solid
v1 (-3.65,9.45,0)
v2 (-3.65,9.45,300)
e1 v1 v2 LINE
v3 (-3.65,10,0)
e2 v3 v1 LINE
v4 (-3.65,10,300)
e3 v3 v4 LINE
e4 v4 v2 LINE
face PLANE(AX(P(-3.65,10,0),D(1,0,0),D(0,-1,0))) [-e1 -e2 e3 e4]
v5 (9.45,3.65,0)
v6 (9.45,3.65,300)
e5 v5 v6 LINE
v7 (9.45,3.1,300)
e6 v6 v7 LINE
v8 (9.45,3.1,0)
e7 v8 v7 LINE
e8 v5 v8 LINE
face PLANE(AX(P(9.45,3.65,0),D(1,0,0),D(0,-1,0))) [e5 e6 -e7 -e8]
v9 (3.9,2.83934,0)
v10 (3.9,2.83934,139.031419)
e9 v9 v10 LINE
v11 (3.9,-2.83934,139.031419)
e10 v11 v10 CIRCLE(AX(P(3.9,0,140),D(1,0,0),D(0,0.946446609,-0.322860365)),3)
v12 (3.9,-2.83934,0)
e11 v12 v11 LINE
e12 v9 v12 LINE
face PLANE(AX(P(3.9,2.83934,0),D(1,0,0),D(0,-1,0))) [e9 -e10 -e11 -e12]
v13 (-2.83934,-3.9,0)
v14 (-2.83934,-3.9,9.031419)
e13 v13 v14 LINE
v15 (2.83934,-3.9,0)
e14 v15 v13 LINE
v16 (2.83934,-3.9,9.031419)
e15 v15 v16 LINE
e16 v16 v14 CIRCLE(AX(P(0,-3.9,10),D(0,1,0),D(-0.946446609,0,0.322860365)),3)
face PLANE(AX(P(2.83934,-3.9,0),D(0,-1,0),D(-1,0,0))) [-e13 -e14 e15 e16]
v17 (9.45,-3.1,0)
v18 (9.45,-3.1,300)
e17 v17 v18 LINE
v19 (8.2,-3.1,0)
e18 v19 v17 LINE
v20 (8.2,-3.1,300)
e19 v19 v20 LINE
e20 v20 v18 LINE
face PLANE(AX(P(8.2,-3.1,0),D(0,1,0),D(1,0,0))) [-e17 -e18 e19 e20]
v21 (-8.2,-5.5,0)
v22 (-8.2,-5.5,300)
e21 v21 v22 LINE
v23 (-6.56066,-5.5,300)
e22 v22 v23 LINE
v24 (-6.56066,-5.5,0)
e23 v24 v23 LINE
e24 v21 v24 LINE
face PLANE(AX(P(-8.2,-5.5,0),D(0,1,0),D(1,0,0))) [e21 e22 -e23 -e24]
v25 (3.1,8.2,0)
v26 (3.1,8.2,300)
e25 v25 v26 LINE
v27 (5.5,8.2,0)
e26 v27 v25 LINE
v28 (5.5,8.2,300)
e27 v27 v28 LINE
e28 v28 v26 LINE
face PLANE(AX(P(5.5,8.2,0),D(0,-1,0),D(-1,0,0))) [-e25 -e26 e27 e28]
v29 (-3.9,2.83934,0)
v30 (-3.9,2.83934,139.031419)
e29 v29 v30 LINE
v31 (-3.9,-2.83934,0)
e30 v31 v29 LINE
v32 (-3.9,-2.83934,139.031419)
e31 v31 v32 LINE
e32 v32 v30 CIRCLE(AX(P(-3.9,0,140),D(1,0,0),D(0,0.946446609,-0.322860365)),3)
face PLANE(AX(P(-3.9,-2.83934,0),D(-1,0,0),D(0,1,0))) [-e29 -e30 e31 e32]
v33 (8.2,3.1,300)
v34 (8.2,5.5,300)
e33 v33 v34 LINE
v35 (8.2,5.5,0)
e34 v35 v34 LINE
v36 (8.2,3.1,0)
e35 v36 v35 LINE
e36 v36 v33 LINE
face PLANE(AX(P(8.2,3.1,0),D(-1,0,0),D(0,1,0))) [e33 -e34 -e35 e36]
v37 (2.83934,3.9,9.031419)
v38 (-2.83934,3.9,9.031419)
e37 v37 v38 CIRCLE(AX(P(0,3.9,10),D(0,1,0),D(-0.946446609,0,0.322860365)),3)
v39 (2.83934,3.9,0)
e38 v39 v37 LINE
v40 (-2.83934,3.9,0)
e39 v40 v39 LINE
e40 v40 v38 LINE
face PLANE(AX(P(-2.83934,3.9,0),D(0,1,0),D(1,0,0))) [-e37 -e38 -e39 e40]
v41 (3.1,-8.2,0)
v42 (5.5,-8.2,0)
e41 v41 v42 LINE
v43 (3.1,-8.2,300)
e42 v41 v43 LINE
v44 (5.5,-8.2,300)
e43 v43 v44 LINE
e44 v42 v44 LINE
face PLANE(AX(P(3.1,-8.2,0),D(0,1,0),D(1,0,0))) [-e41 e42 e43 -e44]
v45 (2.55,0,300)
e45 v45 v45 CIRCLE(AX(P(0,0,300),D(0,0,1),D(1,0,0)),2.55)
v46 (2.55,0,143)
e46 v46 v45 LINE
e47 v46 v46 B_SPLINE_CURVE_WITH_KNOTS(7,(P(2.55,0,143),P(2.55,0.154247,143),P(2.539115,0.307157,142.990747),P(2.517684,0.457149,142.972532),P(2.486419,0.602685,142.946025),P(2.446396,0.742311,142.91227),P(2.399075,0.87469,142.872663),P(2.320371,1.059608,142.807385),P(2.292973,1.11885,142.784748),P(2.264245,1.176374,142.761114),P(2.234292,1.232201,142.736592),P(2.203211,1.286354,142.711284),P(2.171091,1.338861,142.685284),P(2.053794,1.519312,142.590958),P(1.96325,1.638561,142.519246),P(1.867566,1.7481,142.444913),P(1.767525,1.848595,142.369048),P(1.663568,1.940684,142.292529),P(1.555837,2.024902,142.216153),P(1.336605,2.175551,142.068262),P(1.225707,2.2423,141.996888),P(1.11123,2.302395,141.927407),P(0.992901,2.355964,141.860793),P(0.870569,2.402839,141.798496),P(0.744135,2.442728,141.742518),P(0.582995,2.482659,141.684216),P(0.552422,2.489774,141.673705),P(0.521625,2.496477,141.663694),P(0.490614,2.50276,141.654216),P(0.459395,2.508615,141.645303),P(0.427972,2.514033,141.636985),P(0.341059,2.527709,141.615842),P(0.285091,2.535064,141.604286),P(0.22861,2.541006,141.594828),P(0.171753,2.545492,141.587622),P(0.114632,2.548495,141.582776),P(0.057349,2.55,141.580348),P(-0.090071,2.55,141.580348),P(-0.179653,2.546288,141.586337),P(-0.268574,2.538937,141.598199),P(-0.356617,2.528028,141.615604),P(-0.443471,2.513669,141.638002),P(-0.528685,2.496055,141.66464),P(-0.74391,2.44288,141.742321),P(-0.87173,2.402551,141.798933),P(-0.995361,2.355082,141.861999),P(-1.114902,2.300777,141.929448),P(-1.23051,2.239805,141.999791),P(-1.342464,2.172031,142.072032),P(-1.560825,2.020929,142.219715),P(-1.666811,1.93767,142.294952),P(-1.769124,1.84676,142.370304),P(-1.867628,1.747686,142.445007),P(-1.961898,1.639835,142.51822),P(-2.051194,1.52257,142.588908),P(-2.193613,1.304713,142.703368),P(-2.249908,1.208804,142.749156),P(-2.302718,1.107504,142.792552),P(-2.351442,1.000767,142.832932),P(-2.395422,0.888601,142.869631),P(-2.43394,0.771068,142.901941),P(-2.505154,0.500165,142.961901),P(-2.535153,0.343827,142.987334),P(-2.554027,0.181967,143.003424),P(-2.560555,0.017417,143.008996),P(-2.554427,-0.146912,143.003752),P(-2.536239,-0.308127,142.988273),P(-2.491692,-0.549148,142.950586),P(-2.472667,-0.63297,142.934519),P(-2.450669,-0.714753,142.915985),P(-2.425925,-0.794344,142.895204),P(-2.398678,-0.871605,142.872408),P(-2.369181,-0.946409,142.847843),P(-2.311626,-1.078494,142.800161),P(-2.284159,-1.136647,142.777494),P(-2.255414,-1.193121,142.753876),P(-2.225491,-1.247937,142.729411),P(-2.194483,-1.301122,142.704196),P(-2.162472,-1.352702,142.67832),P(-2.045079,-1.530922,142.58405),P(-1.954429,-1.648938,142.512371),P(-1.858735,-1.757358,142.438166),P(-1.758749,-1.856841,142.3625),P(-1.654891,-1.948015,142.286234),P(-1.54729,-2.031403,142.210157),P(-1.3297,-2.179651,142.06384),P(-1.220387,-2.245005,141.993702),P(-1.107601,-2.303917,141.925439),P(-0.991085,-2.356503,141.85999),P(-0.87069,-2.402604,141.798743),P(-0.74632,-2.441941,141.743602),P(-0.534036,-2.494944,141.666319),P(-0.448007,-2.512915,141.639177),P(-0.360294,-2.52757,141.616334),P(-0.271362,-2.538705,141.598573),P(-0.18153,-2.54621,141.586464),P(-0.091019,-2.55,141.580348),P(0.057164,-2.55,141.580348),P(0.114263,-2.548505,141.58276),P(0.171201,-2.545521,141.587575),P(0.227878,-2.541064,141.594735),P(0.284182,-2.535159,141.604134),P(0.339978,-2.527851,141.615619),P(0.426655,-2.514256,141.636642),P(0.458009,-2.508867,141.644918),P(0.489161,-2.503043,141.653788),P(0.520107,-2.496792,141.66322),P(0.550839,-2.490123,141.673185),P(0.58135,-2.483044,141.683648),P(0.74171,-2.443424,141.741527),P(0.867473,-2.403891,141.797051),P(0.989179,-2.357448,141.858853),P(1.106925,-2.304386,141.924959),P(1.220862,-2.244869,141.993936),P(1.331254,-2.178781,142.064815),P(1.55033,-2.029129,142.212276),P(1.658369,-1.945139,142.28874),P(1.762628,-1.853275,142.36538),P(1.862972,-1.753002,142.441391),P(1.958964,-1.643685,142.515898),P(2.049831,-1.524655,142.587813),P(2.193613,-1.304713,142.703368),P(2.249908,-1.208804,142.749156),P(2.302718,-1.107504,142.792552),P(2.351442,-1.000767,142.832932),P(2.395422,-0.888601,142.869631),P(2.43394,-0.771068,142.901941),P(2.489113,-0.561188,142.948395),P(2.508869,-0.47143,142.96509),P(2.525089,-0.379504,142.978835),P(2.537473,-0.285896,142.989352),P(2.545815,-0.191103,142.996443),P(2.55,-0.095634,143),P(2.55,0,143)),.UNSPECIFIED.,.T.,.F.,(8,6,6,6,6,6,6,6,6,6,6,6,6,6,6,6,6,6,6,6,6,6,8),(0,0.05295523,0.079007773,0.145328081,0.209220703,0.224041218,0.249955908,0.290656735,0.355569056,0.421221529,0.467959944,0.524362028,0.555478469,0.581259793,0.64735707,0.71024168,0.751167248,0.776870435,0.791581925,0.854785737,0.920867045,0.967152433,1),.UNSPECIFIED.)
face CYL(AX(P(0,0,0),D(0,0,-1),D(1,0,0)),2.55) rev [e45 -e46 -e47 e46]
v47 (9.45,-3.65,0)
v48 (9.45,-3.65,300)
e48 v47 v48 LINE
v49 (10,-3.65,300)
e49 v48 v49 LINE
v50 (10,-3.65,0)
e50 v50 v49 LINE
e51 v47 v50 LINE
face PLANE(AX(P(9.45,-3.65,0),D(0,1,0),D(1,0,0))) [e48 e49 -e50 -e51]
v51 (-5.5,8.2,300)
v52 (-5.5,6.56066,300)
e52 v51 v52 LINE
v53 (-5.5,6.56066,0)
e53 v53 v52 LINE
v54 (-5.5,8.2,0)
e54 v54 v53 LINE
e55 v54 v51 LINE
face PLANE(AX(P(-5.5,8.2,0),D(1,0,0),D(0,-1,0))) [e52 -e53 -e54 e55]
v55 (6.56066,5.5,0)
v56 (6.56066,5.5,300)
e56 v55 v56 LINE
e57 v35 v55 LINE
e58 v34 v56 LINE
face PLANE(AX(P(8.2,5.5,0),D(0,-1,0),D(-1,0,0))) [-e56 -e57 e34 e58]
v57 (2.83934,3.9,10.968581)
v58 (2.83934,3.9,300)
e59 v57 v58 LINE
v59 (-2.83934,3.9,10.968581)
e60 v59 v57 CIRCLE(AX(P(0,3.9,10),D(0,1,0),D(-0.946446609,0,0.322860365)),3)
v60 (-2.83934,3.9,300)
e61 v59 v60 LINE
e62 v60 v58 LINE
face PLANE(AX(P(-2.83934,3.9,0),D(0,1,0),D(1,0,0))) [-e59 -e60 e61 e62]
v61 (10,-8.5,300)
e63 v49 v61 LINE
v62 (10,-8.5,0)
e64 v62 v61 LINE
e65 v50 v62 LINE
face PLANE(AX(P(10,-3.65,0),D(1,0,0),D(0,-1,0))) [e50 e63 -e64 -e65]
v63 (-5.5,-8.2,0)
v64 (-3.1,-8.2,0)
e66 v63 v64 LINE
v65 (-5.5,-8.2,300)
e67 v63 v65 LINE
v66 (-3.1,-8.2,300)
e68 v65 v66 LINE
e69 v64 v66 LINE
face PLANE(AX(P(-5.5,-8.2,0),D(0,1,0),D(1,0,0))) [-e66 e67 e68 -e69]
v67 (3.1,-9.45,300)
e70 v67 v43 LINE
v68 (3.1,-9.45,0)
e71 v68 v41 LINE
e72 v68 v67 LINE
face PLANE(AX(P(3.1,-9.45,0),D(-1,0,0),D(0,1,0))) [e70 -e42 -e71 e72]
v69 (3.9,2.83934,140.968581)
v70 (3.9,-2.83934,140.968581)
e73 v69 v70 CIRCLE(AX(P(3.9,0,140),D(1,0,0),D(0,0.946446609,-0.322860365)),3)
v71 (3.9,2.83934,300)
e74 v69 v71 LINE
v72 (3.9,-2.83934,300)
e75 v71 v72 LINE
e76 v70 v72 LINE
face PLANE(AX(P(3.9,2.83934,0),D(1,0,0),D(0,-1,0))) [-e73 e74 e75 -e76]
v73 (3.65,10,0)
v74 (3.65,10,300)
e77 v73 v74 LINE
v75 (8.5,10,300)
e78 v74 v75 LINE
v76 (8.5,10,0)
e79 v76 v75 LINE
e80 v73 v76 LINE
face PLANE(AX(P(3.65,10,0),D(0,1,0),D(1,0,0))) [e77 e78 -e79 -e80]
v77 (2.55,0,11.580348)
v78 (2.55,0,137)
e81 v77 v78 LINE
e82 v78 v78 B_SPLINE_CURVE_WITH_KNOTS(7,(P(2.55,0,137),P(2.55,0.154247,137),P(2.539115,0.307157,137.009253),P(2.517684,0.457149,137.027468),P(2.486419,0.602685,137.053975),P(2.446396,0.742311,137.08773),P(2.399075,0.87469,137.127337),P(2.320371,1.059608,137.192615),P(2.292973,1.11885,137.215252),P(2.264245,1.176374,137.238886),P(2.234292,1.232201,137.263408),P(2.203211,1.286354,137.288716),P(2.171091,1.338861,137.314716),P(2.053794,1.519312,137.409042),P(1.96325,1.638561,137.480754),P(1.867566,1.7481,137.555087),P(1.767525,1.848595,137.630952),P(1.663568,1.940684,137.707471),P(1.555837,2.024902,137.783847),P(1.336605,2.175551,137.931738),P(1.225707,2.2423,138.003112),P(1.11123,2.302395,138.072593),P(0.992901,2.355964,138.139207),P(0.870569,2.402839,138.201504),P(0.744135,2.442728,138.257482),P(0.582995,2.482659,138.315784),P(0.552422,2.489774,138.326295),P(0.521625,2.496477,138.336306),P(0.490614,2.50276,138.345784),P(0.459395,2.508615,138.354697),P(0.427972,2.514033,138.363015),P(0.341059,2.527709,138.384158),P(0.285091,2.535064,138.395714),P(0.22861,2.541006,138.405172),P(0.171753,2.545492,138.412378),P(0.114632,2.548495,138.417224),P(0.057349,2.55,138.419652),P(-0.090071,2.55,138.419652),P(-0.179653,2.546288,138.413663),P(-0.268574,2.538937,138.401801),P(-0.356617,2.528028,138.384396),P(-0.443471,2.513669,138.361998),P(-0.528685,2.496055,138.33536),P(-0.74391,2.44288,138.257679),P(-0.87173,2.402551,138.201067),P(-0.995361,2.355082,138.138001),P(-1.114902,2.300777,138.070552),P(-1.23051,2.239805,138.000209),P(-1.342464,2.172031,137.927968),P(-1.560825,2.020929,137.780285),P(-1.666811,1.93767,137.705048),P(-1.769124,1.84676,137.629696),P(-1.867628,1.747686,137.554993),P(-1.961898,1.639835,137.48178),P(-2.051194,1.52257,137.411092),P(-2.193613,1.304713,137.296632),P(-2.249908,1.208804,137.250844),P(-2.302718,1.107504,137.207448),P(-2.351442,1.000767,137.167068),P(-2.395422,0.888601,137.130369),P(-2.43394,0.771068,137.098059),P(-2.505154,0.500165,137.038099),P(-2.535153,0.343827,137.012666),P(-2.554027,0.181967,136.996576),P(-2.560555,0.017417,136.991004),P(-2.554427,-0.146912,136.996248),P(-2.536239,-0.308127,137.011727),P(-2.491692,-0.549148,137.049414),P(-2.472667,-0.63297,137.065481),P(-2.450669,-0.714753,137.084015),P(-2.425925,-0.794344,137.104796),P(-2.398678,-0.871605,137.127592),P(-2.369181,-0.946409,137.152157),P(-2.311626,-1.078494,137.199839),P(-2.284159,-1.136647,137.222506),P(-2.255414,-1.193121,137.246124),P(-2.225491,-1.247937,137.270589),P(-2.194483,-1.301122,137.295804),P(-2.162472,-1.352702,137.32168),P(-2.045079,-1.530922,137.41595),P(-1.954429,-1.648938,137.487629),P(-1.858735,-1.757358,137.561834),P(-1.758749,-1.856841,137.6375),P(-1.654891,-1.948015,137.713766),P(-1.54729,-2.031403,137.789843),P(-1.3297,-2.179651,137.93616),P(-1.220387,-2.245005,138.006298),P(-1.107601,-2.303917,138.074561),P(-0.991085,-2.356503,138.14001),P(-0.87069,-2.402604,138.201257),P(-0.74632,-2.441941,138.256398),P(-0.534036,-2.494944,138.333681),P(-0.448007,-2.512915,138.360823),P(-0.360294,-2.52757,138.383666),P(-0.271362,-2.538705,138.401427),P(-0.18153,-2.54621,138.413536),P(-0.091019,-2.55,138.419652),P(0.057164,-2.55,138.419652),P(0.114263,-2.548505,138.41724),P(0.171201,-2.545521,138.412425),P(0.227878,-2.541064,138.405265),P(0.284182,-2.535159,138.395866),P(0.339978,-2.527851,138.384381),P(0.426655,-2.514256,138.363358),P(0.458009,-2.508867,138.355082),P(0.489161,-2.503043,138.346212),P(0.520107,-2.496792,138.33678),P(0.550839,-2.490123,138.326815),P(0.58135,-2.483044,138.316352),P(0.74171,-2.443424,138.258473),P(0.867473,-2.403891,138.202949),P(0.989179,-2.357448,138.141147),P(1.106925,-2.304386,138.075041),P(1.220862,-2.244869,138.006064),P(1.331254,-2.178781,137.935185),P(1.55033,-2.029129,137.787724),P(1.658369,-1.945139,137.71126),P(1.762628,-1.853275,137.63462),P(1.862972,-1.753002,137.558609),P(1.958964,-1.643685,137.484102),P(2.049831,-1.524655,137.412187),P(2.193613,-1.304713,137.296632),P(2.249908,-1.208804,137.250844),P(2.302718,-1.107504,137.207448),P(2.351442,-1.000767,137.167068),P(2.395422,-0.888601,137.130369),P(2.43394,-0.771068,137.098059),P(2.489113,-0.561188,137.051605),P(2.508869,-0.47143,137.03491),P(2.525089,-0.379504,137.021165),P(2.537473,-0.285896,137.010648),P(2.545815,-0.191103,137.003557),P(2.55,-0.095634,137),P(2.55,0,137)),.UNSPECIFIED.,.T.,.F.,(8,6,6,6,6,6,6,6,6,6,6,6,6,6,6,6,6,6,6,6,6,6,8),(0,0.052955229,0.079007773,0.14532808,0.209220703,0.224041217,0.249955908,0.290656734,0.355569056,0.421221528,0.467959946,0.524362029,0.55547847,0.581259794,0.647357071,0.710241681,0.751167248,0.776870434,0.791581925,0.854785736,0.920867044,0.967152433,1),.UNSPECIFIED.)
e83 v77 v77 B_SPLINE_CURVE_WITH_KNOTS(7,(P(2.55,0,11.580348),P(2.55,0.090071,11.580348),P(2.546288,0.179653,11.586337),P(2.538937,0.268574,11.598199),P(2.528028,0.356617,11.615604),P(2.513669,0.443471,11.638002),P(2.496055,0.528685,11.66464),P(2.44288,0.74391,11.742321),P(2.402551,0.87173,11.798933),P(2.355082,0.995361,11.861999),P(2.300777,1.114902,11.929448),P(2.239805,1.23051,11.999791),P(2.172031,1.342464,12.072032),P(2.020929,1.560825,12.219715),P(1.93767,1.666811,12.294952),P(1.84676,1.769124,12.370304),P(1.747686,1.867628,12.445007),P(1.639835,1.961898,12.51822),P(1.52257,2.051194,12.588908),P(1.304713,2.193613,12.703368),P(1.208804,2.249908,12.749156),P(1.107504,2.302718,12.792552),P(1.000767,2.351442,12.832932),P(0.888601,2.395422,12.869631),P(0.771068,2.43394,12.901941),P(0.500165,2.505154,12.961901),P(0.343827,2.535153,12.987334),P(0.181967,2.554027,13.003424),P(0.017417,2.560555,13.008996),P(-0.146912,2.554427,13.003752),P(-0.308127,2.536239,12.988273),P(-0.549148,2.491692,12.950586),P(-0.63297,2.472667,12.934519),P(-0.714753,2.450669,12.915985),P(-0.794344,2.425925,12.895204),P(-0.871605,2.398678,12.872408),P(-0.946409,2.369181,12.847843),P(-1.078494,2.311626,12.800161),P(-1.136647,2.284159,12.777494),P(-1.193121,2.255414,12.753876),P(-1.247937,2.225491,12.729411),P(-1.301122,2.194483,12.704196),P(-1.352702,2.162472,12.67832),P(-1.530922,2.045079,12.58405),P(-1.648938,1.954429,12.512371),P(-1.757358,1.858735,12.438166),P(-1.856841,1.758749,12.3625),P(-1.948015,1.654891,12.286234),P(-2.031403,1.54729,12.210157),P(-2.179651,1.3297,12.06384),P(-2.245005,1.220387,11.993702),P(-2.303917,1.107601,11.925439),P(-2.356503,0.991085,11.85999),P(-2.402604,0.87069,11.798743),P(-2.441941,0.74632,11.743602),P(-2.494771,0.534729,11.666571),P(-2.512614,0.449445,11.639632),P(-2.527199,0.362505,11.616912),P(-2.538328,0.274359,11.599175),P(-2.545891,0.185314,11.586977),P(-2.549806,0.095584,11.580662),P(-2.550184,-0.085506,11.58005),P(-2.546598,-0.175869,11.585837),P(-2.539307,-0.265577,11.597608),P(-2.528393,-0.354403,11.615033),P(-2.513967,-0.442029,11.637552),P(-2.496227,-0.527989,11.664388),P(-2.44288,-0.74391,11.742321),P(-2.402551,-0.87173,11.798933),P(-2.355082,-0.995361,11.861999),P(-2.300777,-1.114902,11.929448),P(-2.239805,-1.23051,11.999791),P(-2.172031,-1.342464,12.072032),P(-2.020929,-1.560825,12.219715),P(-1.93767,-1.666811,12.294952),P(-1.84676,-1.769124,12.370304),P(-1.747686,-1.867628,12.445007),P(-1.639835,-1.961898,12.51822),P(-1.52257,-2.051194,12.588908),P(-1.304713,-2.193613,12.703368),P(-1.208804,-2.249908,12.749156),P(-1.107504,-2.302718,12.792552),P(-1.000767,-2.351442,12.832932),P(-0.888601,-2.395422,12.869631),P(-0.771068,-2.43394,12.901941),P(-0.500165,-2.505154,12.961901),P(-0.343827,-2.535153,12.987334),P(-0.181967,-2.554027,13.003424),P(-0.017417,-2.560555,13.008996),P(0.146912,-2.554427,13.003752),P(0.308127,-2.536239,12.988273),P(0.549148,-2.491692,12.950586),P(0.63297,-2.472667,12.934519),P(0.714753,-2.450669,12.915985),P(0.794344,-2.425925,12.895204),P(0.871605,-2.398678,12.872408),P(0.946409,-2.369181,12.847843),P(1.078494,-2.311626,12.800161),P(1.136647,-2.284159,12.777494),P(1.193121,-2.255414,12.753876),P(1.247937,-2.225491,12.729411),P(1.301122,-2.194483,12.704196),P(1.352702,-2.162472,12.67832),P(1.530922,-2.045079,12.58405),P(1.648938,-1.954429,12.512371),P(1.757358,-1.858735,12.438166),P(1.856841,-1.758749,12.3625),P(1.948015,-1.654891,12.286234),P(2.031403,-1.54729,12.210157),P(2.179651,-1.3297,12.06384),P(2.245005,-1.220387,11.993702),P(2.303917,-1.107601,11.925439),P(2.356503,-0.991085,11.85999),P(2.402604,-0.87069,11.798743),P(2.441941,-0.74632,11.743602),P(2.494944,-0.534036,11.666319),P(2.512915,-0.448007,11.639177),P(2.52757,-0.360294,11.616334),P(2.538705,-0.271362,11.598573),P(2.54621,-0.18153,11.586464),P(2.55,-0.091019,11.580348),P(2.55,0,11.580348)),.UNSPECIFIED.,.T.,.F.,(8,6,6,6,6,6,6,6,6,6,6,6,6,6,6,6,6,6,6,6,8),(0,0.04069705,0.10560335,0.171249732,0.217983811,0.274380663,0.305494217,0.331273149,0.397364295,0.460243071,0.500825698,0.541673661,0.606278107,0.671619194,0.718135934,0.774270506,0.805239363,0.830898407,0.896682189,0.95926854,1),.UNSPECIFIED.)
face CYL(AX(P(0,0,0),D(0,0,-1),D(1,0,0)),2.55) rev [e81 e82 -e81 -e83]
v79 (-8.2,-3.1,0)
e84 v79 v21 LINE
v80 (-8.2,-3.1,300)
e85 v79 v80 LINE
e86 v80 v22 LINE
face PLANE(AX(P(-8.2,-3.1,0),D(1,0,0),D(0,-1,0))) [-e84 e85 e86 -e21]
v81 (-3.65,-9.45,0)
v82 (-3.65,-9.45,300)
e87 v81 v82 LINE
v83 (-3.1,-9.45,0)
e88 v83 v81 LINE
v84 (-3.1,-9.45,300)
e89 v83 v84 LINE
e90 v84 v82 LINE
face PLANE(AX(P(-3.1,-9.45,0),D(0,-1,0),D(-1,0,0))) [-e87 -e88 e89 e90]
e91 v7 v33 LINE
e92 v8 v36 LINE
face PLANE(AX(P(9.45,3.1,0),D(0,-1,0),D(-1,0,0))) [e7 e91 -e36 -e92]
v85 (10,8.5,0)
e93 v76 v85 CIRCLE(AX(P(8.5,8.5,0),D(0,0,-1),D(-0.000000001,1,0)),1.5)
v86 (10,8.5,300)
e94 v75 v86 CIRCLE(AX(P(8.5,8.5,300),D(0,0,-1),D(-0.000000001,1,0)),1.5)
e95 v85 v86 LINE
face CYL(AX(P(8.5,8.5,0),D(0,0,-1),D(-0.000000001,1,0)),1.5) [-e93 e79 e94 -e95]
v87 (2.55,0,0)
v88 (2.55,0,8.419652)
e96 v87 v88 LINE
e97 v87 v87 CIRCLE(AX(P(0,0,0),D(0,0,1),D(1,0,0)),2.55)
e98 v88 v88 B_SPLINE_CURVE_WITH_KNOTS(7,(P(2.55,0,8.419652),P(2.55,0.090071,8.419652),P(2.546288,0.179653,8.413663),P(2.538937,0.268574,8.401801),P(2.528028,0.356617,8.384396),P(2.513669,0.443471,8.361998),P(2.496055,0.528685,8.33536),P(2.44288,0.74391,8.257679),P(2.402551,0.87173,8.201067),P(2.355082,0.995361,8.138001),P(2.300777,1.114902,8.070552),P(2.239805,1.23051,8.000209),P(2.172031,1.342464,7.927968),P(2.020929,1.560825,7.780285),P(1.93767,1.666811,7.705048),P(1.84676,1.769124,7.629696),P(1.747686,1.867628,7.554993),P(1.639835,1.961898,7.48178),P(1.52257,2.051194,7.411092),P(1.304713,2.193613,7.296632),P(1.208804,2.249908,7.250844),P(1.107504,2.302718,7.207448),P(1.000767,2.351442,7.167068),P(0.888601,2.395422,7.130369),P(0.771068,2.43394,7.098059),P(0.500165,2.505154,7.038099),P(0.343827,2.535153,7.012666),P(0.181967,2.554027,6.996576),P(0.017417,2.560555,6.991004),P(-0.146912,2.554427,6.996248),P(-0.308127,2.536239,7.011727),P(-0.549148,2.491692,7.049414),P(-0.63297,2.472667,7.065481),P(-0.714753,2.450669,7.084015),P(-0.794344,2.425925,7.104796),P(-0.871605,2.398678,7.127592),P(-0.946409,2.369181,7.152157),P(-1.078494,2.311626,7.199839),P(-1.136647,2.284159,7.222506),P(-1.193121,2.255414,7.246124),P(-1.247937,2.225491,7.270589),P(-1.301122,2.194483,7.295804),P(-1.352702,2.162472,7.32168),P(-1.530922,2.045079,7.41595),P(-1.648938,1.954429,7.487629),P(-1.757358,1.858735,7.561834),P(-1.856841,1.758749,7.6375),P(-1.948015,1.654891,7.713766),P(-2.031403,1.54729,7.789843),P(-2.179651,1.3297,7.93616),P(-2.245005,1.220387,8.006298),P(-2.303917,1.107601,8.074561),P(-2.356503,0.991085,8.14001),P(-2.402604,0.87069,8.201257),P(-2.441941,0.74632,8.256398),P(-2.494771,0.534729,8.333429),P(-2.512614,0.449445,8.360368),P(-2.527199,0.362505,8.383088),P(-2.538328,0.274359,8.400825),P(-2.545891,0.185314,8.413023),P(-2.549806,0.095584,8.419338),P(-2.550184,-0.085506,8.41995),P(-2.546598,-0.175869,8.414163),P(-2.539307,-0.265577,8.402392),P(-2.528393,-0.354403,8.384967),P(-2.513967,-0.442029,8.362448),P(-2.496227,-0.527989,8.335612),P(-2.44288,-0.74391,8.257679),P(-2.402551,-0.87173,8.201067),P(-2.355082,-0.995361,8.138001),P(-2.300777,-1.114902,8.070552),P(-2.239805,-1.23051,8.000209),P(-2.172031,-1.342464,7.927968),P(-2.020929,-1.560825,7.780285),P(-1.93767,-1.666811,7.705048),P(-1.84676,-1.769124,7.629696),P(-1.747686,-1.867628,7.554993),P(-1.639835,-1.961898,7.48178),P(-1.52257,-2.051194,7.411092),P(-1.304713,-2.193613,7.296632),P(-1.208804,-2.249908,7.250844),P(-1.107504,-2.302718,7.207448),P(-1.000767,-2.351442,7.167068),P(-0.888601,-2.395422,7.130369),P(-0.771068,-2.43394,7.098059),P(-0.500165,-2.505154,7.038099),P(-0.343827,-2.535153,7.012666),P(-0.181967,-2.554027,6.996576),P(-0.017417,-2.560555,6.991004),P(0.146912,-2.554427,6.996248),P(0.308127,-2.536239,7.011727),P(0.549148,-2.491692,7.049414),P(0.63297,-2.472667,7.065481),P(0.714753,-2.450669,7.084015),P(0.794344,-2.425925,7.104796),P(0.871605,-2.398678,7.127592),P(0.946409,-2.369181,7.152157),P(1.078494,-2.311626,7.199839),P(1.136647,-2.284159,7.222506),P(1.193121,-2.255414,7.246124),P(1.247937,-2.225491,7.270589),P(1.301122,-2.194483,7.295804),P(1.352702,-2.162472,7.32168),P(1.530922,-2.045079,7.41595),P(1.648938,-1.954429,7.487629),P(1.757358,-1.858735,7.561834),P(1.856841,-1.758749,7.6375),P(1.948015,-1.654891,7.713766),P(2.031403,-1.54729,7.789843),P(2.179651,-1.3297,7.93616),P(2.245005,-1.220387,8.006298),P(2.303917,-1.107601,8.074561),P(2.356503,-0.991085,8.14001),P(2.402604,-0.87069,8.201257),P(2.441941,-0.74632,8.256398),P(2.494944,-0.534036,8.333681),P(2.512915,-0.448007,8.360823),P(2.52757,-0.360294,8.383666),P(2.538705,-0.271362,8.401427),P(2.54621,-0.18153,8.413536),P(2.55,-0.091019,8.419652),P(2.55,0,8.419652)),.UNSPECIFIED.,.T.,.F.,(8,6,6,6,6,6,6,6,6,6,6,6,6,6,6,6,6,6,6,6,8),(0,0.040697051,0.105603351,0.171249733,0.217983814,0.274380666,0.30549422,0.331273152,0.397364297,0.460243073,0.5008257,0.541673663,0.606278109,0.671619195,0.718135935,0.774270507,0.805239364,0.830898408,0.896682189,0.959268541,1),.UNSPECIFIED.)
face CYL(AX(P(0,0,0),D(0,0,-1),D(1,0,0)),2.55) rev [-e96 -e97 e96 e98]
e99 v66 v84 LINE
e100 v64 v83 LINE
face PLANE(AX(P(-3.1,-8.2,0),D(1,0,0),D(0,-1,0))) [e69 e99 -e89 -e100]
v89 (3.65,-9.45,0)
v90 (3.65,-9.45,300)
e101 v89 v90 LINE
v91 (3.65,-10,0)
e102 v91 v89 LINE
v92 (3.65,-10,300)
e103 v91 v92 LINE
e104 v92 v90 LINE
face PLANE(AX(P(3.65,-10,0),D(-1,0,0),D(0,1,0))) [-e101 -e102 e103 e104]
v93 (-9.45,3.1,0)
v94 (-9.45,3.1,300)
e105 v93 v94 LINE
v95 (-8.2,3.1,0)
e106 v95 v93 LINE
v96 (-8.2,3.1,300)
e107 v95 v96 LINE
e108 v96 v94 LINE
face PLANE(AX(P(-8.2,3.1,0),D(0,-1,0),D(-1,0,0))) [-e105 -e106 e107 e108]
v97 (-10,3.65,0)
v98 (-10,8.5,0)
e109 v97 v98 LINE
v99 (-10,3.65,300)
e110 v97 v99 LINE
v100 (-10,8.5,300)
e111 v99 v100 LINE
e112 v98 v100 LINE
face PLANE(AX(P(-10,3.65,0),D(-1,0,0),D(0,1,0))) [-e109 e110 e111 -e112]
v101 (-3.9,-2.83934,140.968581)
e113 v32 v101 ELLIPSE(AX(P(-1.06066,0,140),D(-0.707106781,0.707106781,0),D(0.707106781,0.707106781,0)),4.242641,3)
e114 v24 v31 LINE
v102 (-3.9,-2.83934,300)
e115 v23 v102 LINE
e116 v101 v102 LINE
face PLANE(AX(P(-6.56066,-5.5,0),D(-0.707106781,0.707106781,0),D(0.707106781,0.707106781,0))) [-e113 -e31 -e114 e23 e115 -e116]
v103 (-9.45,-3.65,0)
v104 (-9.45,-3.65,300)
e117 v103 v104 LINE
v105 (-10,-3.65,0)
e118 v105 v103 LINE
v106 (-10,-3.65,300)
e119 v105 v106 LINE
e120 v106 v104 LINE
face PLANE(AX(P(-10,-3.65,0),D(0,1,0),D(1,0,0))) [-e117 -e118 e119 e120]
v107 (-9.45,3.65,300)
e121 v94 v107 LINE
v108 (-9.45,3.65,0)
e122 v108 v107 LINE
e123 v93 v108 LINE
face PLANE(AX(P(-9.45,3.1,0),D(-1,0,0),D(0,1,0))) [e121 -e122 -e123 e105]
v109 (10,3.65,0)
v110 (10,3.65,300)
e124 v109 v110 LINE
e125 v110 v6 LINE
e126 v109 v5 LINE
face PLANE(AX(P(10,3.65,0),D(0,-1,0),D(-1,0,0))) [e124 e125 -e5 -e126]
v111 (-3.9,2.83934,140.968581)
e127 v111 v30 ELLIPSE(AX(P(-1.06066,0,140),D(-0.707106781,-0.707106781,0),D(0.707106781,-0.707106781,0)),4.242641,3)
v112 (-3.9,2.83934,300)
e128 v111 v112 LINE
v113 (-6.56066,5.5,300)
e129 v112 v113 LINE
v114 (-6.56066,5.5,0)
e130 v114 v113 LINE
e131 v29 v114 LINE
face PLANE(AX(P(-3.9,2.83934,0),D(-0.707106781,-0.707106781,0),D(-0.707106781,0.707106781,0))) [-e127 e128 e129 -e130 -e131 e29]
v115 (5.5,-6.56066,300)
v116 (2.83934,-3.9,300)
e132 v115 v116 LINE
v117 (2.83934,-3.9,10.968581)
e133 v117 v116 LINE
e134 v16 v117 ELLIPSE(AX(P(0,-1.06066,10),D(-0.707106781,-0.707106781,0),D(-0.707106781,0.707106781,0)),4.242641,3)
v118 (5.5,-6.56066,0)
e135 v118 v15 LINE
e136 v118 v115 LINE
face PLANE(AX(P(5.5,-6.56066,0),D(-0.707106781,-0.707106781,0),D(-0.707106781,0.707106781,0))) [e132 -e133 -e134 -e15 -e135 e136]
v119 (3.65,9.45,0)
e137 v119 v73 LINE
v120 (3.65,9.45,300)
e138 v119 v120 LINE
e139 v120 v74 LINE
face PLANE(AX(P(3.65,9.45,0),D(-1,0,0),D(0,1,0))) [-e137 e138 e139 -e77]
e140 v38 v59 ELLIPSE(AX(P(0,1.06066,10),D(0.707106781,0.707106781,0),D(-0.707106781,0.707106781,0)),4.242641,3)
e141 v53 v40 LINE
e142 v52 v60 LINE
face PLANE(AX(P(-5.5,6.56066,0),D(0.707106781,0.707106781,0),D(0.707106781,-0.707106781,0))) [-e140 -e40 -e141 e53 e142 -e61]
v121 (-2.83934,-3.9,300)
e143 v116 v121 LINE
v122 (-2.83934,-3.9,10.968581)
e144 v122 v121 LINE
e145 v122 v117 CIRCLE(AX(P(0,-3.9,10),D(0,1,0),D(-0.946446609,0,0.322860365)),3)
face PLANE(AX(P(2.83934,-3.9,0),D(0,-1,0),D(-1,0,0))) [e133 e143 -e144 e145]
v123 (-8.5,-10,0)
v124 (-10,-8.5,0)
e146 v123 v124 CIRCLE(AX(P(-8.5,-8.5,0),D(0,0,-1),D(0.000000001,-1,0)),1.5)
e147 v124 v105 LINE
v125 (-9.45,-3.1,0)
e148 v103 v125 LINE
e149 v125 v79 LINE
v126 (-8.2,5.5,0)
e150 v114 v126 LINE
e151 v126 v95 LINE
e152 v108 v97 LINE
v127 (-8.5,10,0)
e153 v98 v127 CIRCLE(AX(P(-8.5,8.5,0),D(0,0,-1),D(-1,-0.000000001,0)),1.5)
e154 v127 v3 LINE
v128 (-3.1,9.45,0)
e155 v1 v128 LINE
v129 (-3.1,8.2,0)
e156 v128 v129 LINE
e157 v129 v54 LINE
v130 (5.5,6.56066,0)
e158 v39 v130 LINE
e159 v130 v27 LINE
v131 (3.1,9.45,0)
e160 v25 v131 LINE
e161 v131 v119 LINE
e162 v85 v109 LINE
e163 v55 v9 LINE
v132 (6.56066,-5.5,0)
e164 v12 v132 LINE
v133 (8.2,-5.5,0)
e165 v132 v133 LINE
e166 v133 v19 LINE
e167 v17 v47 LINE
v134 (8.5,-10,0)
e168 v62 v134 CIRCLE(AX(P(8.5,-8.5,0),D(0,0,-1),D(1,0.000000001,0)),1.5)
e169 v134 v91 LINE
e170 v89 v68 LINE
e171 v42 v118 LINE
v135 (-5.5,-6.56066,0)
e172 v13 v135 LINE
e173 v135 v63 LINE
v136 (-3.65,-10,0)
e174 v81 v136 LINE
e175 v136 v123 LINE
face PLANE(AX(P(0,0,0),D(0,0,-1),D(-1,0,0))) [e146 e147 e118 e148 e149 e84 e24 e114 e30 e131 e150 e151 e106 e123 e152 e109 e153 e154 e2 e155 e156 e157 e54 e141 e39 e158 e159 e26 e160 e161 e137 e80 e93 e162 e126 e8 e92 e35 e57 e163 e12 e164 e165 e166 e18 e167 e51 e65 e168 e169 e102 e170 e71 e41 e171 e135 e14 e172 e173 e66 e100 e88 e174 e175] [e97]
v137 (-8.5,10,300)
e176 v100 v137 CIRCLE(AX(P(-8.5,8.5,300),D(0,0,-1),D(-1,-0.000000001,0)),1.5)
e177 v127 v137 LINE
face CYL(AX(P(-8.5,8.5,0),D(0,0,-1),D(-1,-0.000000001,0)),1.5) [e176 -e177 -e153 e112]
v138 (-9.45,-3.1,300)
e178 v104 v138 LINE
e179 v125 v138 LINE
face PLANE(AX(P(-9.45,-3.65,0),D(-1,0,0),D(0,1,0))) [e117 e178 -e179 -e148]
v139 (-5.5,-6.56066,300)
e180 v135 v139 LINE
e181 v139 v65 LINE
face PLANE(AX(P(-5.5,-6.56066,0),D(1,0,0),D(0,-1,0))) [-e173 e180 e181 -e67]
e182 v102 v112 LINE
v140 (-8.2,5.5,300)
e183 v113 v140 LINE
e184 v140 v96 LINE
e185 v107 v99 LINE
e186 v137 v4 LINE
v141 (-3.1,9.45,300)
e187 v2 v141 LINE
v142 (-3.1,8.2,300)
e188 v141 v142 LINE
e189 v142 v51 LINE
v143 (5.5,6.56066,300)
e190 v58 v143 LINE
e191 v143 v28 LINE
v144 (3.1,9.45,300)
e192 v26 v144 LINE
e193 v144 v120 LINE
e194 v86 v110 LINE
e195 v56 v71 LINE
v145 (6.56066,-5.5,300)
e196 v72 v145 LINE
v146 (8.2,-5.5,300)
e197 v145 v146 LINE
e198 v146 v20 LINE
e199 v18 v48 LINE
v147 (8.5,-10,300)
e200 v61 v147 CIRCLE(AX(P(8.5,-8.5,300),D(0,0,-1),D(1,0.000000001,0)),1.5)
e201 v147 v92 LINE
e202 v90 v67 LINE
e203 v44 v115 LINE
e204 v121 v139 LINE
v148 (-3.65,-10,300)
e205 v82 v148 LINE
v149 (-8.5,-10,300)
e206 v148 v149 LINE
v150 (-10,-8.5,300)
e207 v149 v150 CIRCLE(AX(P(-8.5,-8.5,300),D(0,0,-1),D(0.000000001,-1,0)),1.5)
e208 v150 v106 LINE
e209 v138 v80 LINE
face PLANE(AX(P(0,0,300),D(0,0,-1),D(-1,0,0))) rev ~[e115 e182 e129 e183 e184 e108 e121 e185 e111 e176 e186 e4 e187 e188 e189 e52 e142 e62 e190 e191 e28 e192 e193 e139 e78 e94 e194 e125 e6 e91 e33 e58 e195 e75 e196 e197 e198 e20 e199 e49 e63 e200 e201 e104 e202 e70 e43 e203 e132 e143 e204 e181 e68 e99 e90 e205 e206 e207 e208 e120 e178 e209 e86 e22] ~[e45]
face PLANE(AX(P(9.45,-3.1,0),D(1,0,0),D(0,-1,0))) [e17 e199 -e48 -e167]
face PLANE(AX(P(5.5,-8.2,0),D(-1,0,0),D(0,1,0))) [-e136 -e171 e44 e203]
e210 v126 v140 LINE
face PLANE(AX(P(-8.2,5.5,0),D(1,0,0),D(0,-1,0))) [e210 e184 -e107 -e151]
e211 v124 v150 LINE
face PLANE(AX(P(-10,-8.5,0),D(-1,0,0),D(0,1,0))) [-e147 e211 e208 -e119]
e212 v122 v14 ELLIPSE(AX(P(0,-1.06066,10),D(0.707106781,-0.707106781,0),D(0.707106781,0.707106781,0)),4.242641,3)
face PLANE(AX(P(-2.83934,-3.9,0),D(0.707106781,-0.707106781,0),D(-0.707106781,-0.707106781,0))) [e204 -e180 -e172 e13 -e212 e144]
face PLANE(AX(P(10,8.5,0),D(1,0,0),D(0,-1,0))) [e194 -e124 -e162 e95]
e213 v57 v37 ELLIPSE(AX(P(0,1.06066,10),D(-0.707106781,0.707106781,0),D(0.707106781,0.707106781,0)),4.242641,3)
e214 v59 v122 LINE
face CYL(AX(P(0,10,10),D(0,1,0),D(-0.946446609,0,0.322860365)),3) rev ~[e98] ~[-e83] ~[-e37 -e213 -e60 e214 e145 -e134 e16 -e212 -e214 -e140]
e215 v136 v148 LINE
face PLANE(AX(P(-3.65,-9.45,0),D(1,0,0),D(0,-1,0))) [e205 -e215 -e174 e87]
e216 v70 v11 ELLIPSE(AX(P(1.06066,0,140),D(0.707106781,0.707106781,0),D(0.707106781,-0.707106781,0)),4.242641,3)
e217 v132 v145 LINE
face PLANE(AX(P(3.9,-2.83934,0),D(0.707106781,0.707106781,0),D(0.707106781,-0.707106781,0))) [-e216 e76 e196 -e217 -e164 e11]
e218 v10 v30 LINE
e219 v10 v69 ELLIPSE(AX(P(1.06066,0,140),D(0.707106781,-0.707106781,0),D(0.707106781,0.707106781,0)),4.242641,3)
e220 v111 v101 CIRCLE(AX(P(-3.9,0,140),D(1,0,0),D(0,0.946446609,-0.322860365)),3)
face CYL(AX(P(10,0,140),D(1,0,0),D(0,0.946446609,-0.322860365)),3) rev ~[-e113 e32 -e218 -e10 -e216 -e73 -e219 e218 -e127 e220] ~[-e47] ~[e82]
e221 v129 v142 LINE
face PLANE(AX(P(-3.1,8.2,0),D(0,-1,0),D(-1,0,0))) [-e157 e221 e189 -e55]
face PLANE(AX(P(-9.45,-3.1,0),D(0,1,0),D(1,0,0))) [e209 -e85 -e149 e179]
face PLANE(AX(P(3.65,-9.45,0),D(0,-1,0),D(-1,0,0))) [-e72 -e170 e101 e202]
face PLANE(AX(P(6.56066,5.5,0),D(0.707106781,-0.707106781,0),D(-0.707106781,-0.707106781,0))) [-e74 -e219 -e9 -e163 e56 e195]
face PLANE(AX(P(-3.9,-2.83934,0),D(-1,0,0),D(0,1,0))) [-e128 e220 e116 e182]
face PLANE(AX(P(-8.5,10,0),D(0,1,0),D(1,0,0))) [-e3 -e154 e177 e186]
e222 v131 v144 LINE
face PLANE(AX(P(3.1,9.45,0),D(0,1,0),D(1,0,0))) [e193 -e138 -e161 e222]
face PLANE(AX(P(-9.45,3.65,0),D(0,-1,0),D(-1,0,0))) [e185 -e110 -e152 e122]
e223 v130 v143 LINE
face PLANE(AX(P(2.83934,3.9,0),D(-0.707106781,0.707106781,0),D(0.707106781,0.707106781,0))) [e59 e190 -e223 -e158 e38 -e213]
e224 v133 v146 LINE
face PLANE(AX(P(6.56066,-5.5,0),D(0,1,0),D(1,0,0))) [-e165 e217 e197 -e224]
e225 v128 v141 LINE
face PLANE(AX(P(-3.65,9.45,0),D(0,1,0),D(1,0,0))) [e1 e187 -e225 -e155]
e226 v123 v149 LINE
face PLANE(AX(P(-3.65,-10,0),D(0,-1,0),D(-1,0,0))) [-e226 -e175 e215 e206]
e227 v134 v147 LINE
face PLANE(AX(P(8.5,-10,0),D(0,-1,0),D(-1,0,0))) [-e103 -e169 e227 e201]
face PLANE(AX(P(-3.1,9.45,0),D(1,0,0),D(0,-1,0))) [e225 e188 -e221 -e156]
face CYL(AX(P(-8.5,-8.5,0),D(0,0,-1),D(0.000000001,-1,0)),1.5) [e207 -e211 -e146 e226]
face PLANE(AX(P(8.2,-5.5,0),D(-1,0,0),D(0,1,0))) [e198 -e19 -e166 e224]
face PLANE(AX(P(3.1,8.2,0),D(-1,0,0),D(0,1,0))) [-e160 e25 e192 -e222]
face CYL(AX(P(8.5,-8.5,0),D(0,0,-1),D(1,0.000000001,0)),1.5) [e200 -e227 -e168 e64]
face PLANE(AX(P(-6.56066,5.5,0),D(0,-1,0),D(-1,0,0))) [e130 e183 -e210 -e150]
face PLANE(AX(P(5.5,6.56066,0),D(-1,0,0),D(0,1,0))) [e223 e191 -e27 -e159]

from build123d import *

# Parameters (mm, degrees)
SKETCH_1_R          = 2.55
EXTRUDE_1_DEPTH     = 300
SKETCH_2_R          = 3
CUT_EXTRUDE_1_DEPTH = 301.83217913
SKETCH_3_R          = 3
CUT_EXTRUDE_2_DEPTH = 301.83217923


with BuildPart() as part:
    # 草图1 → 凸台-拉伸1 (new body)
    with BuildSketch(Plane.XY):
        with BuildLine():
            Line((-3.9, 2.839339828), (-6.560660172, 5.5))
            Line((-6.560660172, 5.5), (-8.2, 5.5))
            Line((-8.2, 5.5), (-8.2, 3.1))
            Line((-8.2, 3.1), (-9.45, 3.1))
            Line((-9.45, 3.1), (-9.45, 3.65))
            Line((-9.45, 3.65), (-10, 3.65))
            Line((-10, 3.65), (-10, 8.5))
            ThreePointArc((-10, 8.5), (-9.560660172, 9.560660172), (-8.5, 10))
            Line((-8.5, 10), (-3.65, 10))
            Line((-3.65, 10), (-3.65, 9.45))
            Line((-3.65, 9.45), (-3.1, 9.45))
            Line((-3.1, 9.45), (-3.1, 8.2))
            Line((-3.1, 8.2), (-5.5, 8.2))
            Line((-5.5, 8.2), (-5.5, 6.560660172))
            Line((-5.5, 6.560660172), (-2.839339828, 3.9))
            Line((-2.839339828, 3.9), (2.839339828, 3.9))
            Line((2.839339828, 3.9), (5.5, 6.560660172))
            Line((5.5, 6.560660172), (5.5, 8.2))
            Line((5.5, 8.2), (3.1, 8.2))
            Line((3.1, 8.2), (3.1, 9.45))
            Line((3.1, 9.45), (3.65, 9.45))
            Line((3.65, 9.45), (3.65, 10))
            Line((3.65, 10), (8.5, 10))
            ThreePointArc((8.5, 10), (9.560660172, 9.560660172), (10, 8.5))
            Line((10, 8.5), (10, 3.65))
            Line((10, 3.65), (9.45, 3.65))
            Line((9.45, 3.65), (9.45, 3.1))
            Line((9.45, 3.1), (8.2, 3.1))
            Line((8.2, 3.1), (8.2, 5.5))
            Line((8.2, 5.5), (6.560660172, 5.5))
            Line((6.560660172, 5.5), (3.9, 2.839339828))
            Line((3.9, 2.839339828), (3.9, -2.839339828))
            Line((3.9, -2.839339828), (6.560660172, -5.5))
            Line((6.560660172, -5.5), (8.2, -5.5))
            Line((8.2, -5.5), (8.2, -3.1))
            Line((8.2, -3.1), (9.45, -3.1))
            Line((9.45, -3.1), (9.45, -3.65))
            Line((9.45, -3.65), (10, -3.65))
            Line((10, -3.65), (10, -8.5))
            ThreePointArc((10, -8.5), (9.560660172, -9.560660172), (8.5, -10))
            Line((8.5, -10), (3.65, -10))
            Line((3.65, -10), (3.65, -9.45))
            Line((3.65, -9.45), (3.1, -9.45))
            Line((3.1, -9.45), (3.1, -8.2))
            Line((3.1, -8.2), (5.5, -8.2))
            Line((5.5, -8.2), (5.5, -6.560660172))
            Line((5.5, -6.560660172), (2.839339828, -3.9))
            Line((2.839339828, -3.9), (-2.839339828, -3.9))
            Line((-2.839339828, -3.9), (-5.5, -6.560660172))
            Line((-5.5, -6.560660172), (-5.5, -8.2))
            Line((-5.5, -8.2), (-3.1, -8.2))
            Line((-3.1, -8.2), (-3.1, -9.45))
            Line((-3.1, -9.45), (-3.65, -9.45))
            Line((-3.65, -9.45), (-3.65, -10))
            Line((-3.65, -10), (-8.5, -10))
            ThreePointArc((-8.5, -10), (-9.560660172, -9.560660172), (-10, -8.5))
            Line((-10, -8.5), (-10, -3.65))
            Line((-10, -3.65), (-9.45, -3.65))
            Line((-9.45, -3.65), (-9.45, -3.1))
            Line((-9.45, -3.1), (-8.2, -3.1))
            Line((-8.2, -3.1), (-8.2, -5.5))
            Line((-8.2, -5.5), (-6.560660172, -5.5))
            Line((-6.560660172, -5.5), (-3.9, -2.839339828))
            Line((-3.9, -2.839339828), (-3.9, 2.839339828))
        make_face()
        Circle(SKETCH_1_R, mode=Mode.SUBTRACT)
    extrude(amount=EXTRUDE_1_DEPTH)

    # 草图2 → 切除-拉伸1 (cut, through all)
    with BuildSketch(Plane(origin=(0, 10, 0), x_dir=(1, 0, 0), z_dir=(0, 1, 0))):
        with Locations(Location((0, -10, 0), (0, 0, 198.835996158))):
            Circle(SKETCH_2_R)
    extrude(amount=-CUT_EXTRUDE_1_DEPTH, mode=Mode.SUBTRACT)

    # 草图3 → 切除-拉伸2 (cut, through all)
    with BuildSketch(Plane(origin=(10, 0, 0), x_dir=(0, 0, -1), z_dir=(1, 0, 0))):
        with Locations(Location((-140, 0, 0), (0, 0, 71.164003842))):
            Circle(SKETCH_3_R)
    extrude(amount=-CUT_EXTRUDE_2_DEPTH, mode=Mode.SUBTRACT)


solid = part.part
